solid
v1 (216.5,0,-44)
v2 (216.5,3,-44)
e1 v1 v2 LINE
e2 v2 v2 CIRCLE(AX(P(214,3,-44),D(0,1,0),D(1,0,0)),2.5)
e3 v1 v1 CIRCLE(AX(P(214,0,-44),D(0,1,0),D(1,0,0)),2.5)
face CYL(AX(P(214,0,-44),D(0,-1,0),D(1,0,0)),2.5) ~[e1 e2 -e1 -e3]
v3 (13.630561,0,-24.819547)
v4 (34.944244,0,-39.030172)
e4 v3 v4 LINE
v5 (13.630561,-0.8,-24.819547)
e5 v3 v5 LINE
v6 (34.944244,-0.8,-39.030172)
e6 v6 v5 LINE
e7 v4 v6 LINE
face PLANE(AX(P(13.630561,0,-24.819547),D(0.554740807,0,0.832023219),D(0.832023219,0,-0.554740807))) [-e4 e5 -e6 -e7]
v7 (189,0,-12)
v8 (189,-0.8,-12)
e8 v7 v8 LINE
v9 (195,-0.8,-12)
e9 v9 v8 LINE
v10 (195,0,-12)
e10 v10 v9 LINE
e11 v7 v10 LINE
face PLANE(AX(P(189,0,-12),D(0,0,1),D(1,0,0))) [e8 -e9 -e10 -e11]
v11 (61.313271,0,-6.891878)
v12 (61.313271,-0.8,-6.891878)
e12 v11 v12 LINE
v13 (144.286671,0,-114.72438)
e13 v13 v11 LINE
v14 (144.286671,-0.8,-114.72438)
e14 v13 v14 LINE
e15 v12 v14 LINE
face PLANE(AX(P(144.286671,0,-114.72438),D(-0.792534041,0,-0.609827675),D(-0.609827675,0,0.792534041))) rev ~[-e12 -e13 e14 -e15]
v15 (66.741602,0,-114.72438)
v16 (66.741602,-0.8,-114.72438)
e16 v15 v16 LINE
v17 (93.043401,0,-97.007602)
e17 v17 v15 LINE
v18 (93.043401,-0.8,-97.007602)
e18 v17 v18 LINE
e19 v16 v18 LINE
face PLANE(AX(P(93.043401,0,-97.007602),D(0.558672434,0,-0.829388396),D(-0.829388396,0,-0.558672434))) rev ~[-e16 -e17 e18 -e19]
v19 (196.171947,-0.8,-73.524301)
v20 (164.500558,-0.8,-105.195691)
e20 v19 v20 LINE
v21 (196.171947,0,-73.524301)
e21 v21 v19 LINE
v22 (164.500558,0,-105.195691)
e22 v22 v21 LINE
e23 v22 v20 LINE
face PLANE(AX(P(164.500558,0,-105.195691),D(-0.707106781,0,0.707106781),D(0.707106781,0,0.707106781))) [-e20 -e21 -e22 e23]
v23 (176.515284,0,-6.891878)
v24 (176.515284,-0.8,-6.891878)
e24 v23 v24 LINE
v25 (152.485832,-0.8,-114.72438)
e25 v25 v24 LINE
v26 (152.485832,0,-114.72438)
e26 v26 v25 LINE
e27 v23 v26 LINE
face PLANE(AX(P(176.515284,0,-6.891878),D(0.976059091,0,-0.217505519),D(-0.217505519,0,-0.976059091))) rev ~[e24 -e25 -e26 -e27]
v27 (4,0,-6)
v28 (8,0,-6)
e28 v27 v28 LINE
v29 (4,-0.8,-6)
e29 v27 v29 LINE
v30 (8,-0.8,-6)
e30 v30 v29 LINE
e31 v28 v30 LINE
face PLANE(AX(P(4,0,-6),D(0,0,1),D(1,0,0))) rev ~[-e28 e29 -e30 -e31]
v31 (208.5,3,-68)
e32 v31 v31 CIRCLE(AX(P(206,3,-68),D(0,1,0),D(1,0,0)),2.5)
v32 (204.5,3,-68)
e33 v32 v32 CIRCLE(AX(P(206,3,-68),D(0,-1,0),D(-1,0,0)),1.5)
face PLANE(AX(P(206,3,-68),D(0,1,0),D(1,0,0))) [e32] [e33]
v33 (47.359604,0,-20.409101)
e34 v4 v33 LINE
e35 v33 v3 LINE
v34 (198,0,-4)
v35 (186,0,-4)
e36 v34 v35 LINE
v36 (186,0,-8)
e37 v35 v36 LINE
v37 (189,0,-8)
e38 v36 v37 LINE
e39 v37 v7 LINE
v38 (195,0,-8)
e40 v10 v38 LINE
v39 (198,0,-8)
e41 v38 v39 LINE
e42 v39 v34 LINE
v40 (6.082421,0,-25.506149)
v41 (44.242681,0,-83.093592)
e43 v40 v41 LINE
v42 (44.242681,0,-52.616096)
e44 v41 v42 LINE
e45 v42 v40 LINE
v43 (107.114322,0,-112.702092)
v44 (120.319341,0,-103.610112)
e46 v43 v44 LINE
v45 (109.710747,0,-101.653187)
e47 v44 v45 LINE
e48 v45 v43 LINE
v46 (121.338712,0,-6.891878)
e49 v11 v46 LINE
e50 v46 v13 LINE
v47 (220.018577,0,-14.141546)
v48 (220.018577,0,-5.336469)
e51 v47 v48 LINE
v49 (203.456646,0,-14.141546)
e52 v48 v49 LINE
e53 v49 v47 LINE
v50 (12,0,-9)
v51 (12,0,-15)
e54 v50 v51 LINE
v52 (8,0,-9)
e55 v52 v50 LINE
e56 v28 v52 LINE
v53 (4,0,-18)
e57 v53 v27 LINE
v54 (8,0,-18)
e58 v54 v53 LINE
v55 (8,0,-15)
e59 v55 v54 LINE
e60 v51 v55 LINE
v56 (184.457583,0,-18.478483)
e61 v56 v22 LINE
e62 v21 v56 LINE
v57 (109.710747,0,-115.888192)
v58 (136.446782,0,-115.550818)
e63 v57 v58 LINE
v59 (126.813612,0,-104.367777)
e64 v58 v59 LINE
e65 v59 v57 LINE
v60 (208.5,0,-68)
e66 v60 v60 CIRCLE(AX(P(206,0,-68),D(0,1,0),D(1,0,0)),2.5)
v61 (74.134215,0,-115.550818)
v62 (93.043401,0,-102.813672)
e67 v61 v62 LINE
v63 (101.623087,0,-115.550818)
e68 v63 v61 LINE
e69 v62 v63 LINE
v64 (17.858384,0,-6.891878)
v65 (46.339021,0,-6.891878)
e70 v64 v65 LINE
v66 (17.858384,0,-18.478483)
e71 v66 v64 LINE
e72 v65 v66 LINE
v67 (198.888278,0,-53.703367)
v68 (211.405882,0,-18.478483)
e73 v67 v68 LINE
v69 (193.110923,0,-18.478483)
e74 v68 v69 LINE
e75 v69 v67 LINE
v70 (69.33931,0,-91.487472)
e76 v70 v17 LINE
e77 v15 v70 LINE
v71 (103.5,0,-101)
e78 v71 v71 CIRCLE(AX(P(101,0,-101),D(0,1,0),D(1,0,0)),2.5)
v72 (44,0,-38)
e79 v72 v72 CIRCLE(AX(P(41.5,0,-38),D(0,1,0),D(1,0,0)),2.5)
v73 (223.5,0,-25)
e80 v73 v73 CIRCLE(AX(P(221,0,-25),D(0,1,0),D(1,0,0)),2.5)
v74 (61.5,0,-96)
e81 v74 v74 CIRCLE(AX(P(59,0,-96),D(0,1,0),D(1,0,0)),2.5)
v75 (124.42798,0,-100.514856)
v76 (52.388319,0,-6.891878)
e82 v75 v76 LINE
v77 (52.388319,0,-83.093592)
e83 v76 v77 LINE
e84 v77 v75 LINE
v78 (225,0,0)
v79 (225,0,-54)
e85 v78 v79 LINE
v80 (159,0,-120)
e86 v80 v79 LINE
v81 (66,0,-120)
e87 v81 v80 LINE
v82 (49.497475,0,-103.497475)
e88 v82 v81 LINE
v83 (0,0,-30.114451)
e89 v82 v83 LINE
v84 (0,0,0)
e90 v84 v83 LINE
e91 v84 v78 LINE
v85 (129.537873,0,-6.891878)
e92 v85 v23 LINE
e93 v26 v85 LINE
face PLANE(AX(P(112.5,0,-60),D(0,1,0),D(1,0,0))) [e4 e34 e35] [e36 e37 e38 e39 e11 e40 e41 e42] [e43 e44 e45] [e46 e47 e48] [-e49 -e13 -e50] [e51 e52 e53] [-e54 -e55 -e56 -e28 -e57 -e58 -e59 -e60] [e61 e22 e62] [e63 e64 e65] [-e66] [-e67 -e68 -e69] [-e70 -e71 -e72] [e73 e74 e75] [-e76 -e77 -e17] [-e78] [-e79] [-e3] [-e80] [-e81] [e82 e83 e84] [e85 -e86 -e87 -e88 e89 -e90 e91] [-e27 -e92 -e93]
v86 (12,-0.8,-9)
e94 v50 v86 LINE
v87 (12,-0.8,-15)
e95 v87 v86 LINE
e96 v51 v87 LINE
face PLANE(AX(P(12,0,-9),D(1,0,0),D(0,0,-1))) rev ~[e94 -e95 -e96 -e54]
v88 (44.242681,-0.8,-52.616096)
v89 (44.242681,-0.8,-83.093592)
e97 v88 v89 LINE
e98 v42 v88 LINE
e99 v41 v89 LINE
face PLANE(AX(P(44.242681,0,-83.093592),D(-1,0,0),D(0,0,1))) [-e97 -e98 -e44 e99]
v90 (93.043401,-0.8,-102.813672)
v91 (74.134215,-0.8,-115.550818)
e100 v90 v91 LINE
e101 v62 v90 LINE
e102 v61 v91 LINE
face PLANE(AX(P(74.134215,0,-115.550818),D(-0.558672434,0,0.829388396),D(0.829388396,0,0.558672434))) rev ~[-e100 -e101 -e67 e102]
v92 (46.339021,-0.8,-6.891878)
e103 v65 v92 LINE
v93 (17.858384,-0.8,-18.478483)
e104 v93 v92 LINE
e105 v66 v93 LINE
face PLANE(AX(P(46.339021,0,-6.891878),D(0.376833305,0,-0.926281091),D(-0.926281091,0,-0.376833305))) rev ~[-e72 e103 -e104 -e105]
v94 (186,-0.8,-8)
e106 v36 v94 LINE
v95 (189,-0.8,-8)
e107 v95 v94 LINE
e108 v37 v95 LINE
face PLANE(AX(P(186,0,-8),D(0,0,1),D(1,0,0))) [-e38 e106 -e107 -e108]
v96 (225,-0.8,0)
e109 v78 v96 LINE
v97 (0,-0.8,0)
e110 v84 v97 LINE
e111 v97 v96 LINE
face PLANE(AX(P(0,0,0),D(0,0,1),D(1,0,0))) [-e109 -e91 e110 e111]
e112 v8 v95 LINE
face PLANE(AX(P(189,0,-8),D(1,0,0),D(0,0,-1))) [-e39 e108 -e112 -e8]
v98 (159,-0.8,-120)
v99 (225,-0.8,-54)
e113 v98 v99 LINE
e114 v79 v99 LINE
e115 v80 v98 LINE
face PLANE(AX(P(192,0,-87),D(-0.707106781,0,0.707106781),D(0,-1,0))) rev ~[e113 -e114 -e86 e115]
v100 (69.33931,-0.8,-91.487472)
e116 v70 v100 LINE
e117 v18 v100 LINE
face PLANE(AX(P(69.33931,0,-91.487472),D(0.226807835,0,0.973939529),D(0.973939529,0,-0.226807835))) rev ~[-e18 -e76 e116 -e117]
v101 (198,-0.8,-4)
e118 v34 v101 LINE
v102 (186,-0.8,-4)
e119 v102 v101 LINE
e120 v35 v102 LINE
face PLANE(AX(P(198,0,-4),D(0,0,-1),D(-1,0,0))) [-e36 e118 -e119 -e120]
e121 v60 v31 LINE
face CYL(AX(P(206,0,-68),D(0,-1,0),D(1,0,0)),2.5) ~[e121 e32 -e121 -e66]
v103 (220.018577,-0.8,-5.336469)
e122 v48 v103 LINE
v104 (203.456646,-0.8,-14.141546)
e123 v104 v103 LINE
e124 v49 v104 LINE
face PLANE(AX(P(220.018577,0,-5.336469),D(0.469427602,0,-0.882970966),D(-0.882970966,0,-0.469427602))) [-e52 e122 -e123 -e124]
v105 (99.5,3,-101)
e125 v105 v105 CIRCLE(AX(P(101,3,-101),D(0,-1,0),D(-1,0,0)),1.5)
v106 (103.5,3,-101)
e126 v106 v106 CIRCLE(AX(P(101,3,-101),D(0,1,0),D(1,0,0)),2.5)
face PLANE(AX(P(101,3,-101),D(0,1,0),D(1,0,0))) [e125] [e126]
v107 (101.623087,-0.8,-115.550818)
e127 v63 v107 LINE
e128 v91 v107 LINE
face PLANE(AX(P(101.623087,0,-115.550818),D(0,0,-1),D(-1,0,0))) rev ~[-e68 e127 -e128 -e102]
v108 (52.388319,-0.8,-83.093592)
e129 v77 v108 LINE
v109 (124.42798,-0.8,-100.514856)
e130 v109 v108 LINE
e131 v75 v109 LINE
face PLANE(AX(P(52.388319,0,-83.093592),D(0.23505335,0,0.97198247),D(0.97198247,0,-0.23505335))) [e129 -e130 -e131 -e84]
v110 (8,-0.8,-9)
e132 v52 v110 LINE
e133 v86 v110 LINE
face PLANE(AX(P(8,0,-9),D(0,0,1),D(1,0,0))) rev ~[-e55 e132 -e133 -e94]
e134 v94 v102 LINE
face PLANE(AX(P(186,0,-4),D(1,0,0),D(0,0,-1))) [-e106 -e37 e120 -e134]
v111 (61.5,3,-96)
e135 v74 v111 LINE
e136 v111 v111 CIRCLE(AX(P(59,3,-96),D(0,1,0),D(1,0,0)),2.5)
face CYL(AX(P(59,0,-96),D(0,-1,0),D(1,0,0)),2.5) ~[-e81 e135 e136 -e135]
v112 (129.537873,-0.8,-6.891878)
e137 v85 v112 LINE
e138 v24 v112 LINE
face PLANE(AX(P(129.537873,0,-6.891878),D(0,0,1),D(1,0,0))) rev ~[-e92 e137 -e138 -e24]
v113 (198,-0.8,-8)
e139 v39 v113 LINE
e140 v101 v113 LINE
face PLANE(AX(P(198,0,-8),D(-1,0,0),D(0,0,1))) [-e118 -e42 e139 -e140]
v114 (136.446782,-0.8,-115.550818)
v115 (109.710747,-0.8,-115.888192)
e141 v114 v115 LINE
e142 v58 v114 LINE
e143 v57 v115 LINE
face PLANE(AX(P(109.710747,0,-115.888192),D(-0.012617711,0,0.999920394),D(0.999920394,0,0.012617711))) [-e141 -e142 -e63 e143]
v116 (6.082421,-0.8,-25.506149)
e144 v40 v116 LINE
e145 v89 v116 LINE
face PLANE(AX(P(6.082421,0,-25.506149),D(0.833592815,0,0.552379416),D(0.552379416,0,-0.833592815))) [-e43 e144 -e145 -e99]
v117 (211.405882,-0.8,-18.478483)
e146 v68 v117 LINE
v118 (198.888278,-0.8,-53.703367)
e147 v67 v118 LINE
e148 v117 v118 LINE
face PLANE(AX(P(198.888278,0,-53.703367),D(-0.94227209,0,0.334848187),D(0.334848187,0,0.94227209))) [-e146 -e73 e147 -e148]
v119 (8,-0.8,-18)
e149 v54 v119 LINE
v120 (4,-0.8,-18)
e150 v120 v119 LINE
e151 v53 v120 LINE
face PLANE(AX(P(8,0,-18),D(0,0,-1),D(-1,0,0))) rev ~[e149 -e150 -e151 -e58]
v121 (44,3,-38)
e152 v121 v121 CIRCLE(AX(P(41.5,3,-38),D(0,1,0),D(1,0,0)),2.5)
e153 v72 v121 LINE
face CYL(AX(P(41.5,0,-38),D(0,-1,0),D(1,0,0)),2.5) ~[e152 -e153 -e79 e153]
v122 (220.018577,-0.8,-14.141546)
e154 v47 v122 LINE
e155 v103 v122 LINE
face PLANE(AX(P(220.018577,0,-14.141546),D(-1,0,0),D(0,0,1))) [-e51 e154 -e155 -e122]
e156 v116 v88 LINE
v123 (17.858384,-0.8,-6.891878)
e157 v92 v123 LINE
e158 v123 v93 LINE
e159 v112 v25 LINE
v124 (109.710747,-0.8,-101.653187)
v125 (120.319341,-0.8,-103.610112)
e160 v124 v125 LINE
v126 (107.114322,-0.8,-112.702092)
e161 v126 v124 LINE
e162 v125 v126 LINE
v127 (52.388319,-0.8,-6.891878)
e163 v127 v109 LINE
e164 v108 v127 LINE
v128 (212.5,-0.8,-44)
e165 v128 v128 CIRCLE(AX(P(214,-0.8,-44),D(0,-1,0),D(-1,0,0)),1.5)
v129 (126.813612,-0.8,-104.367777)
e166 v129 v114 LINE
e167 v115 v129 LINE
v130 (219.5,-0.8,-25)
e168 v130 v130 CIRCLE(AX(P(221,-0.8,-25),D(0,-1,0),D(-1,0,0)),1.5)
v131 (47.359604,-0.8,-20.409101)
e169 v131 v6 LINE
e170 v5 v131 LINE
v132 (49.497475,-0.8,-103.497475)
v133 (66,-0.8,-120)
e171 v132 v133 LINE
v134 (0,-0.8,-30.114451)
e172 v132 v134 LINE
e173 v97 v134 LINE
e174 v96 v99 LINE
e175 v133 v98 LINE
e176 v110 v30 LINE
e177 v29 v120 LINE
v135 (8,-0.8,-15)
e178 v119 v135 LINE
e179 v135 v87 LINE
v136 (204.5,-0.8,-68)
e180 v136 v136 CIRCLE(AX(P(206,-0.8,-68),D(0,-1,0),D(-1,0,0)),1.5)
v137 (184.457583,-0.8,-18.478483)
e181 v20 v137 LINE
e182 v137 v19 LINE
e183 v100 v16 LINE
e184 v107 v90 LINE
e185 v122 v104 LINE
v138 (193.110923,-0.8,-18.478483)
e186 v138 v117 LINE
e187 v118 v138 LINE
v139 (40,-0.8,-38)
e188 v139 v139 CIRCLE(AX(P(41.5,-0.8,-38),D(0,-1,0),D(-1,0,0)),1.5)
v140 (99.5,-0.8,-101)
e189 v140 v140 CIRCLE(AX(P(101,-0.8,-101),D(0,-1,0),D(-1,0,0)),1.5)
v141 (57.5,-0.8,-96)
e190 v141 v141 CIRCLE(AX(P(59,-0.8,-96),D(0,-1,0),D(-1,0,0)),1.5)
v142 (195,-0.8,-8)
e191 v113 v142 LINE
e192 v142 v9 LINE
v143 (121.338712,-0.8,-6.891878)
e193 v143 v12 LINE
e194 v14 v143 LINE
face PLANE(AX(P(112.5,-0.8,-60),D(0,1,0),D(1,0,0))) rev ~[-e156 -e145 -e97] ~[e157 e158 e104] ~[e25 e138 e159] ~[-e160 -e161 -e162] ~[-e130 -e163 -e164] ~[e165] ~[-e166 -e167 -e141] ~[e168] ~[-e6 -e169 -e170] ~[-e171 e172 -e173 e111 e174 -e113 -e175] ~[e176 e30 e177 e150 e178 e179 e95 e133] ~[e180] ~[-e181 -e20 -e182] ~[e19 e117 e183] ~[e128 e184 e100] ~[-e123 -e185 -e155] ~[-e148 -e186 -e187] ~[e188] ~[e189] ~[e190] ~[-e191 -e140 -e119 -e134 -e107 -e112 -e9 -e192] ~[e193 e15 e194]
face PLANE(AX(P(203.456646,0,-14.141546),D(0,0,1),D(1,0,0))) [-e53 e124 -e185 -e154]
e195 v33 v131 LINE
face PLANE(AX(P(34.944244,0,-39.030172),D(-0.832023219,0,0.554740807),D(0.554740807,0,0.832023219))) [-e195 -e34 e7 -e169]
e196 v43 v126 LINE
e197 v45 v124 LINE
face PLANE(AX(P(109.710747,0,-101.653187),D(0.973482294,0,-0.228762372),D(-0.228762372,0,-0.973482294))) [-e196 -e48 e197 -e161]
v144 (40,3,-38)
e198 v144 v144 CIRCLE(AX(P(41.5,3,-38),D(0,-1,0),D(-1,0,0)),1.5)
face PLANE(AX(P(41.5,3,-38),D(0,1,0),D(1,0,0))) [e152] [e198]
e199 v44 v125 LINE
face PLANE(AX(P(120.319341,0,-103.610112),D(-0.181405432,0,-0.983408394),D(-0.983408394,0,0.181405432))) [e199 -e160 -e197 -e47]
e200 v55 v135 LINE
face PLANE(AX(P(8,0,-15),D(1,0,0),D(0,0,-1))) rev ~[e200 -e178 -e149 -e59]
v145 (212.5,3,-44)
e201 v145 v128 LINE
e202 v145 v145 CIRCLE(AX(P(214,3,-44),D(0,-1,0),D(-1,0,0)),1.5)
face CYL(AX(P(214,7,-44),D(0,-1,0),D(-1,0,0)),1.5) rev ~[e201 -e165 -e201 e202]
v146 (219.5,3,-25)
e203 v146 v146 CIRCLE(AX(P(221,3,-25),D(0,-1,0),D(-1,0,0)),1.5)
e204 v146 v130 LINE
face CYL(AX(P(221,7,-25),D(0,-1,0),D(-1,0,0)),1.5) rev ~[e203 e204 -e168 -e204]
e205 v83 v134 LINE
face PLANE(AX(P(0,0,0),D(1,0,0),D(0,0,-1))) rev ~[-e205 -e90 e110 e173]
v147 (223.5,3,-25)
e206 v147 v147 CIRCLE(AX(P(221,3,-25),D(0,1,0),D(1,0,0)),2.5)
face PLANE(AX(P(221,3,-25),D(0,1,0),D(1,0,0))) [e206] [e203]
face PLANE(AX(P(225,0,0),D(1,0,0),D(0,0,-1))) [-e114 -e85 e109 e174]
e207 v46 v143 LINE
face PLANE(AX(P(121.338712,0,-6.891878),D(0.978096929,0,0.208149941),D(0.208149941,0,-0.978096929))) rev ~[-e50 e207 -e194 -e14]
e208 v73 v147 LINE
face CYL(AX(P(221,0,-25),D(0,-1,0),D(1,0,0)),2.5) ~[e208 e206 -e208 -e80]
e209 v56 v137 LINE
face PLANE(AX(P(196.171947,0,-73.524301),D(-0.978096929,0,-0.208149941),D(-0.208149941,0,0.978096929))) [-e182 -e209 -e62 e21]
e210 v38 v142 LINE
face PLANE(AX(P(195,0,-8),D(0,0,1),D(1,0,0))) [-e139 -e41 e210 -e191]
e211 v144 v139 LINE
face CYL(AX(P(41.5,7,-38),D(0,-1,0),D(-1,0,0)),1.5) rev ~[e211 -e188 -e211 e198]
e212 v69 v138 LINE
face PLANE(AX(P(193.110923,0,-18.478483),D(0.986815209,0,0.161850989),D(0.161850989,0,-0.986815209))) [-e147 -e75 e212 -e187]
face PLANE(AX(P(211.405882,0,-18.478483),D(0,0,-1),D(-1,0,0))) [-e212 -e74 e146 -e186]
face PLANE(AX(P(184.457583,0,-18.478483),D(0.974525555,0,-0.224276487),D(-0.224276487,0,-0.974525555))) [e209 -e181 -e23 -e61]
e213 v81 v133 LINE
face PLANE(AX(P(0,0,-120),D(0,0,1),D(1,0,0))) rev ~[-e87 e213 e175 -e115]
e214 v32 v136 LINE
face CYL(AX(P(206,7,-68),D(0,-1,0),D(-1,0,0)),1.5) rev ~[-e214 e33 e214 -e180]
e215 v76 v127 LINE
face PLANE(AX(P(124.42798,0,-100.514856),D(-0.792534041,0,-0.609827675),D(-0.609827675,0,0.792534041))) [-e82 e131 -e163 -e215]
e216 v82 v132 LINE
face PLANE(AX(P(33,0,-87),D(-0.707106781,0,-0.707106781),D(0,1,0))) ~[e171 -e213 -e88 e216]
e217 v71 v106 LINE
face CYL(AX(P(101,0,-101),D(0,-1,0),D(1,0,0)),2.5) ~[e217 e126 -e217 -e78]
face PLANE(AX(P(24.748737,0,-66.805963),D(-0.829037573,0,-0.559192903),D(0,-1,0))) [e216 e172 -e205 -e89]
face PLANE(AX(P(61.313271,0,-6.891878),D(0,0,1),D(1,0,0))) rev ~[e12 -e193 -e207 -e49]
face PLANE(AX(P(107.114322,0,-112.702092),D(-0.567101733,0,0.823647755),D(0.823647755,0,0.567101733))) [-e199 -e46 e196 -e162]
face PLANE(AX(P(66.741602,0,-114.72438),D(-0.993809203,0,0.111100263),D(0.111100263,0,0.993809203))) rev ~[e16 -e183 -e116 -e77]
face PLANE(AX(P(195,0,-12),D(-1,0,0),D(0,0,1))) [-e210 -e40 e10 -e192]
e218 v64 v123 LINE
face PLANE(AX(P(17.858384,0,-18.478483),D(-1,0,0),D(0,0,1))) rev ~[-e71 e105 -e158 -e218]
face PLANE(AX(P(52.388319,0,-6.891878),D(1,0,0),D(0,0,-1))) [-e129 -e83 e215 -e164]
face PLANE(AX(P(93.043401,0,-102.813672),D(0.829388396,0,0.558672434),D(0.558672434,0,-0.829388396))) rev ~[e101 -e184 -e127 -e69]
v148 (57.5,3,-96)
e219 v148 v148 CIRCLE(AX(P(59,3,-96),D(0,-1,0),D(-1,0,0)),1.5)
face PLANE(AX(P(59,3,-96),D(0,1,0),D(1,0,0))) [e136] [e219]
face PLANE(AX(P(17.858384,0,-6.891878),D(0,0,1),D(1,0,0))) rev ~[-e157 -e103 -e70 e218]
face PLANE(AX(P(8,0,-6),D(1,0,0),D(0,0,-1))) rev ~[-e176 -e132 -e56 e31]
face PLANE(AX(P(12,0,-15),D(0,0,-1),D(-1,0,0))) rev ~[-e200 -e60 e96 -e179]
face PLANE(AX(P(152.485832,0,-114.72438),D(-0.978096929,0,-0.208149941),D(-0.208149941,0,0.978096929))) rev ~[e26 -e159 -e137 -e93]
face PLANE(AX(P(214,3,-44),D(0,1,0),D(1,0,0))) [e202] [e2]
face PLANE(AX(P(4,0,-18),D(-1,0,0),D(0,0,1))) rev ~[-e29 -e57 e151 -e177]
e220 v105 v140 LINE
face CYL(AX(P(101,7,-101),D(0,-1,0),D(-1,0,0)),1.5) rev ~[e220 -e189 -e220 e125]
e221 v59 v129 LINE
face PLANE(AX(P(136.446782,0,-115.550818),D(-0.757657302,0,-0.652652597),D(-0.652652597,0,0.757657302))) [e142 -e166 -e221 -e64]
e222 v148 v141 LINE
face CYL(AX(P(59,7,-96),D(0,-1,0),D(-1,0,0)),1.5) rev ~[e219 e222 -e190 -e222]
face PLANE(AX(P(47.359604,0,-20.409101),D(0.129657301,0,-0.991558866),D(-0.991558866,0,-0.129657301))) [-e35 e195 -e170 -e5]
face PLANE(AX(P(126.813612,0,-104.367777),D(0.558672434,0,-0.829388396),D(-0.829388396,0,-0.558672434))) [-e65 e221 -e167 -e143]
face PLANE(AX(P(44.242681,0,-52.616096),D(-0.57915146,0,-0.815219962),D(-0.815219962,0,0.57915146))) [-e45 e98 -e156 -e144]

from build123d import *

# Parameters (mm, degrees)
SKETCH2_R                 = 2.5
BOSS_EXTRUDE1_DEPTH       = 3
BOSS_EXTRUDE1_2_DEPTH     = 3
BOSS_EXTRUDE1_3_DEPTH     = 3
BOSS_EXTRUDE1_4_DEPTH     = 3
BOSS_EXTRUDE1_5_DEPTH     = 3
BOSS_EXTRUDE1_6_DEPTH     = 3
SKETCH4_W                 = 225
SKETCH4_H                 = 120
BOSS_EXTRUDE2_DEPTH       = 0.8
F_3_0MM_DOWEL_HOLE1_D     = 3
F_3_0MM_DOWEL_HOLE1_DEPTH = 4
CUT_EXTRUDE1_REACH        = 2.8
CHAMFER1_SIZE             = 66
CUT_EXTRUDE2_REACH        = 2.8
CHAMFER3_SIZE             = 70
CHAMFER3_SIZE2            = 23.885549322


with BuildPart() as part:
    # Sketch2 → Boss-Extrude1 (new body)
    with BuildSketch(Plane(origin=(0, 0, 0), x_dir=(1, 0, 0), z_dir=(0, 1, 0))):
        with Locations((101, 101)):
            Circle(SKETCH2_R)
    extrude(amount=BOSS_EXTRUDE1_DEPTH)



with BuildPart() as body_2:
    # Sketch2 → Boss-Extrude1 2 (new body)
    with BuildSketch(Plane(origin=(0, 0, 0), x_dir=(1, 0, 0), z_dir=(0, 1, 0))):
        with Locations((206, 68)):
            Circle(SKETCH2_R)
    extrude(amount=BOSS_EXTRUDE1_2_DEPTH)


with BuildPart() as body_3:
    # Sketch2 → Boss-Extrude1 3 (new body)
    with BuildSketch(Plane(origin=(0, 0, 0), x_dir=(1, 0, 0), z_dir=(0, 1, 0))):
        with Locations((214, 44)):
            Circle(SKETCH2_R)
    extrude(amount=BOSS_EXTRUDE1_3_DEPTH)


with BuildPart() as body_4:
    # Sketch2 → Boss-Extrude1 4 (new body)
    with BuildSketch(Plane(origin=(0, 0, 0), x_dir=(1, 0, 0), z_dir=(0, 1, 0))):
        with Locations((221, 25)):
            Circle(SKETCH2_R)
    extrude(amount=BOSS_EXTRUDE1_4_DEPTH)


with BuildPart() as body_5:
    # Sketch2 → Boss-Extrude1 5 (new body)
    with BuildSketch(Plane(origin=(0, 0, 0), x_dir=(1, 0, 0), z_dir=(0, 1, 0))):
        with Locations((41.5, 38)):
            Circle(SKETCH2_R)
    extrude(amount=BOSS_EXTRUDE1_5_DEPTH)


with BuildPart() as body_6:
    # Sketch2 → Boss-Extrude1 6 (new body)
    with BuildSketch(Plane(origin=(0, 0, 0), x_dir=(1, 0, 0), z_dir=(0, 1, 0))):
        with Locations((59, 96)):
            Circle(SKETCH2_R)
    extrude(amount=BOSS_EXTRUDE1_6_DEPTH)


with BuildPart() as part_1:
    add(part.part)

    add(body_2.part)  # Boss-Extrude2 merges body 2

    add(body_3.part)  # Boss-Extrude2 merges body 3

    add(body_4.part)  # Boss-Extrude2 merges body 4

    add(body_5.part)  # Boss-Extrude2 merges body 5

    add(body_6.part)  # Boss-Extrude2 merges body 6
    # Sketch4 → Boss-Extrude2 (add)
    with BuildSketch(Plane(origin=(0, 0, 0), x_dir=(1, 0, 0), z_dir=(0, 1, 0))):
        with Locations((112.5, 60)):
            Rectangle(SKETCH4_W, SKETCH4_H)
    extrude(amount=-BOSS_EXTRUDE2_DEPTH)

    # Ø3.0mm Dowel Hole1
    with Locations(Plane(origin=(0, 3, 0), x_dir=(1, 0, 0), z_dir=(0, 1, 0))):
        with Locations((59, 96), (101, 101), (206, 68), (214, 44), (221, 25), (41.5, 38)):
            Hole(F_3_0MM_DOWEL_HOLE1_D / 2, depth=F_3_0MM_DOWEL_HOLE1_DEPTH)

    # Sketch27 → Cut-Extrude1 (cut, up to next)
    with BuildSketch(Plane(origin=(0, 0, 0), x_dir=(1, 0, 0), z_dir=(0, 1, 0)), mode=Mode.PRIVATE) as cut_extrude1_sk1:
        Polygon((186, 8), (189, 8), (189, 12), (195, 12), (195, 8), (198, 8), (198, 4), (186, 4), align=None)
    cut_extrude1_tool1 = extrude(cut_extrude1_sk1.sketch, amount=-CUT_EXTRUDE1_REACH, mode=Mode.PRIVATE) & part_1.part
    add(cut_extrude1_tool1.solids().sort_by_distance((192, 0, -7.333333))[0], mode=Mode.SUBTRACT)
    # Sketch27 → Cut-Extrude1 (cut, up to next)
    with BuildSketch(Plane(origin=(0, 0, 0), x_dir=(1, 0, 0), z_dir=(0, 1, 0)), mode=Mode.PRIVATE) as cut_extrude1_sk2:
        Polygon((4, 6), (8, 6), (8, 9), (12, 9), (12, 15), (8, 15), (8, 18), (4, 18), align=None)
    cut_extrude1_tool2 = extrude(cut_extrude1_sk2.sketch, amount=-CUT_EXTRUDE1_REACH, mode=Mode.PRIVATE) & part_1.part
    add(cut_extrude1_tool2.solids().sort_by_distance((7.333333, 0, -12))[0], mode=Mode.SUBTRACT)

    # Chamfer1
    chamfer1_edges = [part_1.edges().sort_by_distance(p)[0] for p in [
        (0, -0.4, -120),
        (225, -0.4, -120),
    ]]
    chamfer(chamfer1_edges, length=CHAMFER1_SIZE)

    # Sketch28 → Cut-Extrude2 (cut, up to next)
    with BuildSketch(Plane(origin=(0, 0, 0), x_dir=(1, 0, 0), z_dir=(0, 1, 0)), mode=Mode.PRIVATE) as cut_extrude2_sk1:
        Polygon((52.388319297, 6.891877983), (52.388319297, 83.093591857), (124.427979621, 100.514856146), align=None)
    cut_extrude2_tool1 = extrude(cut_extrude2_sk1.sketch, amount=-CUT_EXTRUDE2_REACH, mode=Mode.PRIVATE) & part_1.part
    add(cut_extrude2_tool1.solids().sort_by_distance((76.401539, 0, -63.500109))[0], mode=Mode.SUBTRACT)
    # Sketch28 → Cut-Extrude2 (cut, up to next)
    with BuildSketch(Plane(origin=(0, 0, 0), x_dir=(1, 0, 0), z_dir=(0, 1, 0)), mode=Mode.PRIVATE) as cut_extrude2_sk2:
        Polygon((144.286671327, 114.724380441), (61.313270979, 6.891877983), (121.338711512, 6.891877983), align=None)
    cut_extrude2_tool2 = extrude(cut_extrude2_sk2.sketch, amount=-CUT_EXTRUDE2_REACH, mode=Mode.PRIVATE) & part_1.part
    add(cut_extrude2_tool2.solids().sort_by_distance((108.979551, 0, -42.836045))[0], mode=Mode.SUBTRACT)
    # Sketch28 → Cut-Extrude2 (cut, up to next)
    with BuildSketch(Plane(origin=(0, 0, 0), x_dir=(1, 0, 0), z_dir=(0, 1, 0)), mode=Mode.PRIVATE) as cut_extrude2_sk3:
        Polygon((152.485832321, 114.724380441), (129.537872506, 6.891877983), (176.515283586, 6.891877983), align=None)
    cut_extrude2_tool3 = extrude(cut_extrude2_sk3.sketch, amount=-CUT_EXTRUDE2_REACH, mode=Mode.PRIVATE) & part_1.part
    add(cut_extrude2_tool3.solids().sort_by_distance((152.846329, 0, -42.836045))[0], mode=Mode.SUBTRACT)
    # Sketch28 → Cut-Extrude2 (cut, up to next)
    with BuildSketch(Plane(origin=(0, 0, 0), x_dir=(1, 0, 0), z_dir=(0, 1, 0)), mode=Mode.PRIVATE) as cut_extrude2_sk4:
        Polygon((164.500557953, 105.19569086), (196.171947419, 73.524301395), (184.457582932, 18.478482617), align=None)
    cut_extrude2_tool4 = extrude(cut_extrude2_sk4.sketch, amount=-CUT_EXTRUDE2_REACH, mode=Mode.PRIVATE) & part_1.part
    add(cut_extrude2_tool4.solids().sort_by_distance((181.710029, 0, -65.732825))[0], mode=Mode.SUBTRACT)
    # Sketch28 → Cut-Extrude2 (cut, up to next)
    with BuildSketch(Plane(origin=(0, 0, 0), x_dir=(1, 0, 0), z_dir=(0, 1, 0)), mode=Mode.PRIVATE) as cut_extrude2_sk5:
        Polygon((198.888278472, 53.703367065), (211.405882256, 18.478482617), (193.110922879, 18.478482617), align=None)
    cut_extrude2_tool5 = extrude(cut_extrude2_sk5.sketch, amount=-CUT_EXTRUDE2_REACH, mode=Mode.PRIVATE) & part_1.part
    add(cut_extrude2_tool5.solids().sort_by_distance((201.135028, 0, -30.220111))[0], mode=Mode.SUBTRACT)
    # Sketch28 → Cut-Extrude2 (cut, up to next)
    with BuildSketch(Plane(origin=(0, 0, 0), x_dir=(1, 0, 0), z_dir=(0, 1, 0)), mode=Mode.PRIVATE) as cut_extrude2_sk6:
        Polygon((44.242680865, 83.093591857), (44.242680865, 52.616095827), (6.082421341, 25.506148765), align=None)
    cut_extrude2_tool6 = extrude(cut_extrude2_sk6.sketch, amount=-CUT_EXTRUDE2_REACH, mode=Mode.PRIVATE) & part_1.part
    add(cut_extrude2_tool6.solids().sort_by_distance((31.522594, 0, -53.738612))[0], mode=Mode.SUBTRACT)
    # Sketch28 → Cut-Extrude2 (cut, up to next)
    with BuildSketch(Plane(origin=(0, 0, 0), x_dir=(1, 0, 0), z_dir=(0, 1, 0)), mode=Mode.PRIVATE) as cut_extrude2_sk7:
        Polygon((13.630560586, 24.81954669), (34.944244067, 39.030171699), (47.359604213, 20.409100754), align=None)
    cut_extrude2_tool7 = extrude(cut_extrude2_sk7.sketch, amount=-CUT_EXTRUDE2_REACH, mode=Mode.PRIVATE) & part_1.part
    add(cut_extrude2_tool7.solids().sort_by_distance((31.978136, 0, -28.086273))[0], mode=Mode.SUBTRACT)
    # Sketch28 → Cut-Extrude2 (cut, up to next)
    with BuildSketch(Plane(origin=(0, 0, 0), x_dir=(1, 0, 0), z_dir=(0, 1, 0)), mode=Mode.PRIVATE) as cut_extrude2_sk8:
        Polygon((17.858383702, 18.478482617), (17.858383702, 6.891877983), (46.339021234, 6.891877983), align=None)
    cut_extrude2_tool8 = extrude(cut_extrude2_sk8.sketch, amount=-CUT_EXTRUDE2_REACH, mode=Mode.PRIVATE) & part_1.part
    add(cut_extrude2_tool8.solids().sort_by_distance((27.35193, 0, -10.75408))[0], mode=Mode.SUBTRACT)
    # Sketch28 → Cut-Extrude2 (cut, up to next)
    with BuildSketch(Plane(origin=(0, 0, 0), x_dir=(1, 0, 0), z_dir=(0, 1, 0)), mode=Mode.PRIVATE) as cut_extrude2_sk9:
        Polygon((66.741601703, 114.724380441), (69.339310273, 91.487471585), (93.043400976, 97.007602296), align=None)
    cut_extrude2_tool9 = extrude(cut_extrude2_sk9.sketch, amount=-CUT_EXTRUDE2_REACH, mode=Mode.PRIVATE) & part_1.part
    add(cut_extrude2_tool9.solids().sort_by_distance((76.374771, 0, -101.073151))[0], mode=Mode.SUBTRACT)
    # Sketch28 → Cut-Extrude2 (cut, up to next)
    with BuildSketch(Plane(origin=(0, 0, 0), x_dir=(1, 0, 0), z_dir=(0, 1, 0)), mode=Mode.PRIVATE) as cut_extrude2_sk10:
        Polygon((74.134214928, 115.550818021), (93.043400976, 102.813672146), (101.623087305, 115.550818021), align=None)
    cut_extrude2_tool10 = extrude(cut_extrude2_sk10.sketch, amount=-CUT_EXTRUDE2_REACH, mode=Mode.PRIVATE) & part_1.part
    add(cut_extrude2_tool10.solids().sort_by_distance((89.600234, 0, -111.305103))[0], mode=Mode.SUBTRACT)
    # Sketch28 → Cut-Extrude2 (cut, up to next)
    with BuildSketch(Plane(origin=(0, 0, 0), x_dir=(1, 0, 0), z_dir=(0, 1, 0)), mode=Mode.PRIVATE) as cut_extrude2_sk11:
        Polygon((136.446781668, 115.550818021), (126.813612387, 104.367776578), (109.710747348, 115.88819244), align=None)
    cut_extrude2_tool11 = extrude(cut_extrude2_sk11.sketch, amount=-CUT_EXTRUDE2_REACH, mode=Mode.PRIVATE) & part_1.part
    add(cut_extrude2_tool11.solids().sort_by_distance((124.323714, 0, -111.935596))[0], mode=Mode.SUBTRACT)
    # Sketch28 → Cut-Extrude2 (cut, up to next)
    with BuildSketch(Plane(origin=(0, 0, 0), x_dir=(1, 0, 0), z_dir=(0, 1, 0)), mode=Mode.PRIVATE) as cut_extrude2_sk12:
        Polygon((107.114322397, 112.702091574), (120.319340962, 103.610111579), (109.710747348, 101.653186543), align=None)
    cut_extrude2_tool12 = extrude(cut_extrude2_sk12.sketch, amount=-CUT_EXTRUDE2_REACH, mode=Mode.PRIVATE) & part_1.part
    add(cut_extrude2_tool12.solids().sort_by_distance((112.38147, 0, -105.988463))[0], mode=Mode.SUBTRACT)
    # Sketch28 → Cut-Extrude2 (cut, up to next)
    with BuildSketch(Plane(origin=(0, 0, 0), x_dir=(1, 0, 0), z_dir=(0, 1, 0)), mode=Mode.PRIVATE) as cut_extrude2_sk13:
        Polygon((203.456645773, 14.141546381), (220.018577109, 14.141546381), (220.018577109, 5.336468962), align=None)
    cut_extrude2_tool13 = extrude(cut_extrude2_sk13.sketch, amount=-CUT_EXTRUDE2_REACH, mode=Mode.PRIVATE) & part_1.part
    add(cut_extrude2_tool13.solids().sort_by_distance((214.497933, 0, -11.206521))[0], mode=Mode.SUBTRACT)

    # Chamfer3
    chamfer3_edges = [part_1.edges().sort_by_distance(p)[0] for p in [
        (0, -0.4, -54),
    ]]
    chamfer3_side = [part_1.faces().sort_by_distance(p)[0] for p in [
        (33, -0.4, -87),
    ]]
    chamfer(chamfer3_edges, length=CHAMFER3_SIZE, length2=CHAMFER3_SIZE2, reference=chamfer3_side[0])


solid = part_1.part
